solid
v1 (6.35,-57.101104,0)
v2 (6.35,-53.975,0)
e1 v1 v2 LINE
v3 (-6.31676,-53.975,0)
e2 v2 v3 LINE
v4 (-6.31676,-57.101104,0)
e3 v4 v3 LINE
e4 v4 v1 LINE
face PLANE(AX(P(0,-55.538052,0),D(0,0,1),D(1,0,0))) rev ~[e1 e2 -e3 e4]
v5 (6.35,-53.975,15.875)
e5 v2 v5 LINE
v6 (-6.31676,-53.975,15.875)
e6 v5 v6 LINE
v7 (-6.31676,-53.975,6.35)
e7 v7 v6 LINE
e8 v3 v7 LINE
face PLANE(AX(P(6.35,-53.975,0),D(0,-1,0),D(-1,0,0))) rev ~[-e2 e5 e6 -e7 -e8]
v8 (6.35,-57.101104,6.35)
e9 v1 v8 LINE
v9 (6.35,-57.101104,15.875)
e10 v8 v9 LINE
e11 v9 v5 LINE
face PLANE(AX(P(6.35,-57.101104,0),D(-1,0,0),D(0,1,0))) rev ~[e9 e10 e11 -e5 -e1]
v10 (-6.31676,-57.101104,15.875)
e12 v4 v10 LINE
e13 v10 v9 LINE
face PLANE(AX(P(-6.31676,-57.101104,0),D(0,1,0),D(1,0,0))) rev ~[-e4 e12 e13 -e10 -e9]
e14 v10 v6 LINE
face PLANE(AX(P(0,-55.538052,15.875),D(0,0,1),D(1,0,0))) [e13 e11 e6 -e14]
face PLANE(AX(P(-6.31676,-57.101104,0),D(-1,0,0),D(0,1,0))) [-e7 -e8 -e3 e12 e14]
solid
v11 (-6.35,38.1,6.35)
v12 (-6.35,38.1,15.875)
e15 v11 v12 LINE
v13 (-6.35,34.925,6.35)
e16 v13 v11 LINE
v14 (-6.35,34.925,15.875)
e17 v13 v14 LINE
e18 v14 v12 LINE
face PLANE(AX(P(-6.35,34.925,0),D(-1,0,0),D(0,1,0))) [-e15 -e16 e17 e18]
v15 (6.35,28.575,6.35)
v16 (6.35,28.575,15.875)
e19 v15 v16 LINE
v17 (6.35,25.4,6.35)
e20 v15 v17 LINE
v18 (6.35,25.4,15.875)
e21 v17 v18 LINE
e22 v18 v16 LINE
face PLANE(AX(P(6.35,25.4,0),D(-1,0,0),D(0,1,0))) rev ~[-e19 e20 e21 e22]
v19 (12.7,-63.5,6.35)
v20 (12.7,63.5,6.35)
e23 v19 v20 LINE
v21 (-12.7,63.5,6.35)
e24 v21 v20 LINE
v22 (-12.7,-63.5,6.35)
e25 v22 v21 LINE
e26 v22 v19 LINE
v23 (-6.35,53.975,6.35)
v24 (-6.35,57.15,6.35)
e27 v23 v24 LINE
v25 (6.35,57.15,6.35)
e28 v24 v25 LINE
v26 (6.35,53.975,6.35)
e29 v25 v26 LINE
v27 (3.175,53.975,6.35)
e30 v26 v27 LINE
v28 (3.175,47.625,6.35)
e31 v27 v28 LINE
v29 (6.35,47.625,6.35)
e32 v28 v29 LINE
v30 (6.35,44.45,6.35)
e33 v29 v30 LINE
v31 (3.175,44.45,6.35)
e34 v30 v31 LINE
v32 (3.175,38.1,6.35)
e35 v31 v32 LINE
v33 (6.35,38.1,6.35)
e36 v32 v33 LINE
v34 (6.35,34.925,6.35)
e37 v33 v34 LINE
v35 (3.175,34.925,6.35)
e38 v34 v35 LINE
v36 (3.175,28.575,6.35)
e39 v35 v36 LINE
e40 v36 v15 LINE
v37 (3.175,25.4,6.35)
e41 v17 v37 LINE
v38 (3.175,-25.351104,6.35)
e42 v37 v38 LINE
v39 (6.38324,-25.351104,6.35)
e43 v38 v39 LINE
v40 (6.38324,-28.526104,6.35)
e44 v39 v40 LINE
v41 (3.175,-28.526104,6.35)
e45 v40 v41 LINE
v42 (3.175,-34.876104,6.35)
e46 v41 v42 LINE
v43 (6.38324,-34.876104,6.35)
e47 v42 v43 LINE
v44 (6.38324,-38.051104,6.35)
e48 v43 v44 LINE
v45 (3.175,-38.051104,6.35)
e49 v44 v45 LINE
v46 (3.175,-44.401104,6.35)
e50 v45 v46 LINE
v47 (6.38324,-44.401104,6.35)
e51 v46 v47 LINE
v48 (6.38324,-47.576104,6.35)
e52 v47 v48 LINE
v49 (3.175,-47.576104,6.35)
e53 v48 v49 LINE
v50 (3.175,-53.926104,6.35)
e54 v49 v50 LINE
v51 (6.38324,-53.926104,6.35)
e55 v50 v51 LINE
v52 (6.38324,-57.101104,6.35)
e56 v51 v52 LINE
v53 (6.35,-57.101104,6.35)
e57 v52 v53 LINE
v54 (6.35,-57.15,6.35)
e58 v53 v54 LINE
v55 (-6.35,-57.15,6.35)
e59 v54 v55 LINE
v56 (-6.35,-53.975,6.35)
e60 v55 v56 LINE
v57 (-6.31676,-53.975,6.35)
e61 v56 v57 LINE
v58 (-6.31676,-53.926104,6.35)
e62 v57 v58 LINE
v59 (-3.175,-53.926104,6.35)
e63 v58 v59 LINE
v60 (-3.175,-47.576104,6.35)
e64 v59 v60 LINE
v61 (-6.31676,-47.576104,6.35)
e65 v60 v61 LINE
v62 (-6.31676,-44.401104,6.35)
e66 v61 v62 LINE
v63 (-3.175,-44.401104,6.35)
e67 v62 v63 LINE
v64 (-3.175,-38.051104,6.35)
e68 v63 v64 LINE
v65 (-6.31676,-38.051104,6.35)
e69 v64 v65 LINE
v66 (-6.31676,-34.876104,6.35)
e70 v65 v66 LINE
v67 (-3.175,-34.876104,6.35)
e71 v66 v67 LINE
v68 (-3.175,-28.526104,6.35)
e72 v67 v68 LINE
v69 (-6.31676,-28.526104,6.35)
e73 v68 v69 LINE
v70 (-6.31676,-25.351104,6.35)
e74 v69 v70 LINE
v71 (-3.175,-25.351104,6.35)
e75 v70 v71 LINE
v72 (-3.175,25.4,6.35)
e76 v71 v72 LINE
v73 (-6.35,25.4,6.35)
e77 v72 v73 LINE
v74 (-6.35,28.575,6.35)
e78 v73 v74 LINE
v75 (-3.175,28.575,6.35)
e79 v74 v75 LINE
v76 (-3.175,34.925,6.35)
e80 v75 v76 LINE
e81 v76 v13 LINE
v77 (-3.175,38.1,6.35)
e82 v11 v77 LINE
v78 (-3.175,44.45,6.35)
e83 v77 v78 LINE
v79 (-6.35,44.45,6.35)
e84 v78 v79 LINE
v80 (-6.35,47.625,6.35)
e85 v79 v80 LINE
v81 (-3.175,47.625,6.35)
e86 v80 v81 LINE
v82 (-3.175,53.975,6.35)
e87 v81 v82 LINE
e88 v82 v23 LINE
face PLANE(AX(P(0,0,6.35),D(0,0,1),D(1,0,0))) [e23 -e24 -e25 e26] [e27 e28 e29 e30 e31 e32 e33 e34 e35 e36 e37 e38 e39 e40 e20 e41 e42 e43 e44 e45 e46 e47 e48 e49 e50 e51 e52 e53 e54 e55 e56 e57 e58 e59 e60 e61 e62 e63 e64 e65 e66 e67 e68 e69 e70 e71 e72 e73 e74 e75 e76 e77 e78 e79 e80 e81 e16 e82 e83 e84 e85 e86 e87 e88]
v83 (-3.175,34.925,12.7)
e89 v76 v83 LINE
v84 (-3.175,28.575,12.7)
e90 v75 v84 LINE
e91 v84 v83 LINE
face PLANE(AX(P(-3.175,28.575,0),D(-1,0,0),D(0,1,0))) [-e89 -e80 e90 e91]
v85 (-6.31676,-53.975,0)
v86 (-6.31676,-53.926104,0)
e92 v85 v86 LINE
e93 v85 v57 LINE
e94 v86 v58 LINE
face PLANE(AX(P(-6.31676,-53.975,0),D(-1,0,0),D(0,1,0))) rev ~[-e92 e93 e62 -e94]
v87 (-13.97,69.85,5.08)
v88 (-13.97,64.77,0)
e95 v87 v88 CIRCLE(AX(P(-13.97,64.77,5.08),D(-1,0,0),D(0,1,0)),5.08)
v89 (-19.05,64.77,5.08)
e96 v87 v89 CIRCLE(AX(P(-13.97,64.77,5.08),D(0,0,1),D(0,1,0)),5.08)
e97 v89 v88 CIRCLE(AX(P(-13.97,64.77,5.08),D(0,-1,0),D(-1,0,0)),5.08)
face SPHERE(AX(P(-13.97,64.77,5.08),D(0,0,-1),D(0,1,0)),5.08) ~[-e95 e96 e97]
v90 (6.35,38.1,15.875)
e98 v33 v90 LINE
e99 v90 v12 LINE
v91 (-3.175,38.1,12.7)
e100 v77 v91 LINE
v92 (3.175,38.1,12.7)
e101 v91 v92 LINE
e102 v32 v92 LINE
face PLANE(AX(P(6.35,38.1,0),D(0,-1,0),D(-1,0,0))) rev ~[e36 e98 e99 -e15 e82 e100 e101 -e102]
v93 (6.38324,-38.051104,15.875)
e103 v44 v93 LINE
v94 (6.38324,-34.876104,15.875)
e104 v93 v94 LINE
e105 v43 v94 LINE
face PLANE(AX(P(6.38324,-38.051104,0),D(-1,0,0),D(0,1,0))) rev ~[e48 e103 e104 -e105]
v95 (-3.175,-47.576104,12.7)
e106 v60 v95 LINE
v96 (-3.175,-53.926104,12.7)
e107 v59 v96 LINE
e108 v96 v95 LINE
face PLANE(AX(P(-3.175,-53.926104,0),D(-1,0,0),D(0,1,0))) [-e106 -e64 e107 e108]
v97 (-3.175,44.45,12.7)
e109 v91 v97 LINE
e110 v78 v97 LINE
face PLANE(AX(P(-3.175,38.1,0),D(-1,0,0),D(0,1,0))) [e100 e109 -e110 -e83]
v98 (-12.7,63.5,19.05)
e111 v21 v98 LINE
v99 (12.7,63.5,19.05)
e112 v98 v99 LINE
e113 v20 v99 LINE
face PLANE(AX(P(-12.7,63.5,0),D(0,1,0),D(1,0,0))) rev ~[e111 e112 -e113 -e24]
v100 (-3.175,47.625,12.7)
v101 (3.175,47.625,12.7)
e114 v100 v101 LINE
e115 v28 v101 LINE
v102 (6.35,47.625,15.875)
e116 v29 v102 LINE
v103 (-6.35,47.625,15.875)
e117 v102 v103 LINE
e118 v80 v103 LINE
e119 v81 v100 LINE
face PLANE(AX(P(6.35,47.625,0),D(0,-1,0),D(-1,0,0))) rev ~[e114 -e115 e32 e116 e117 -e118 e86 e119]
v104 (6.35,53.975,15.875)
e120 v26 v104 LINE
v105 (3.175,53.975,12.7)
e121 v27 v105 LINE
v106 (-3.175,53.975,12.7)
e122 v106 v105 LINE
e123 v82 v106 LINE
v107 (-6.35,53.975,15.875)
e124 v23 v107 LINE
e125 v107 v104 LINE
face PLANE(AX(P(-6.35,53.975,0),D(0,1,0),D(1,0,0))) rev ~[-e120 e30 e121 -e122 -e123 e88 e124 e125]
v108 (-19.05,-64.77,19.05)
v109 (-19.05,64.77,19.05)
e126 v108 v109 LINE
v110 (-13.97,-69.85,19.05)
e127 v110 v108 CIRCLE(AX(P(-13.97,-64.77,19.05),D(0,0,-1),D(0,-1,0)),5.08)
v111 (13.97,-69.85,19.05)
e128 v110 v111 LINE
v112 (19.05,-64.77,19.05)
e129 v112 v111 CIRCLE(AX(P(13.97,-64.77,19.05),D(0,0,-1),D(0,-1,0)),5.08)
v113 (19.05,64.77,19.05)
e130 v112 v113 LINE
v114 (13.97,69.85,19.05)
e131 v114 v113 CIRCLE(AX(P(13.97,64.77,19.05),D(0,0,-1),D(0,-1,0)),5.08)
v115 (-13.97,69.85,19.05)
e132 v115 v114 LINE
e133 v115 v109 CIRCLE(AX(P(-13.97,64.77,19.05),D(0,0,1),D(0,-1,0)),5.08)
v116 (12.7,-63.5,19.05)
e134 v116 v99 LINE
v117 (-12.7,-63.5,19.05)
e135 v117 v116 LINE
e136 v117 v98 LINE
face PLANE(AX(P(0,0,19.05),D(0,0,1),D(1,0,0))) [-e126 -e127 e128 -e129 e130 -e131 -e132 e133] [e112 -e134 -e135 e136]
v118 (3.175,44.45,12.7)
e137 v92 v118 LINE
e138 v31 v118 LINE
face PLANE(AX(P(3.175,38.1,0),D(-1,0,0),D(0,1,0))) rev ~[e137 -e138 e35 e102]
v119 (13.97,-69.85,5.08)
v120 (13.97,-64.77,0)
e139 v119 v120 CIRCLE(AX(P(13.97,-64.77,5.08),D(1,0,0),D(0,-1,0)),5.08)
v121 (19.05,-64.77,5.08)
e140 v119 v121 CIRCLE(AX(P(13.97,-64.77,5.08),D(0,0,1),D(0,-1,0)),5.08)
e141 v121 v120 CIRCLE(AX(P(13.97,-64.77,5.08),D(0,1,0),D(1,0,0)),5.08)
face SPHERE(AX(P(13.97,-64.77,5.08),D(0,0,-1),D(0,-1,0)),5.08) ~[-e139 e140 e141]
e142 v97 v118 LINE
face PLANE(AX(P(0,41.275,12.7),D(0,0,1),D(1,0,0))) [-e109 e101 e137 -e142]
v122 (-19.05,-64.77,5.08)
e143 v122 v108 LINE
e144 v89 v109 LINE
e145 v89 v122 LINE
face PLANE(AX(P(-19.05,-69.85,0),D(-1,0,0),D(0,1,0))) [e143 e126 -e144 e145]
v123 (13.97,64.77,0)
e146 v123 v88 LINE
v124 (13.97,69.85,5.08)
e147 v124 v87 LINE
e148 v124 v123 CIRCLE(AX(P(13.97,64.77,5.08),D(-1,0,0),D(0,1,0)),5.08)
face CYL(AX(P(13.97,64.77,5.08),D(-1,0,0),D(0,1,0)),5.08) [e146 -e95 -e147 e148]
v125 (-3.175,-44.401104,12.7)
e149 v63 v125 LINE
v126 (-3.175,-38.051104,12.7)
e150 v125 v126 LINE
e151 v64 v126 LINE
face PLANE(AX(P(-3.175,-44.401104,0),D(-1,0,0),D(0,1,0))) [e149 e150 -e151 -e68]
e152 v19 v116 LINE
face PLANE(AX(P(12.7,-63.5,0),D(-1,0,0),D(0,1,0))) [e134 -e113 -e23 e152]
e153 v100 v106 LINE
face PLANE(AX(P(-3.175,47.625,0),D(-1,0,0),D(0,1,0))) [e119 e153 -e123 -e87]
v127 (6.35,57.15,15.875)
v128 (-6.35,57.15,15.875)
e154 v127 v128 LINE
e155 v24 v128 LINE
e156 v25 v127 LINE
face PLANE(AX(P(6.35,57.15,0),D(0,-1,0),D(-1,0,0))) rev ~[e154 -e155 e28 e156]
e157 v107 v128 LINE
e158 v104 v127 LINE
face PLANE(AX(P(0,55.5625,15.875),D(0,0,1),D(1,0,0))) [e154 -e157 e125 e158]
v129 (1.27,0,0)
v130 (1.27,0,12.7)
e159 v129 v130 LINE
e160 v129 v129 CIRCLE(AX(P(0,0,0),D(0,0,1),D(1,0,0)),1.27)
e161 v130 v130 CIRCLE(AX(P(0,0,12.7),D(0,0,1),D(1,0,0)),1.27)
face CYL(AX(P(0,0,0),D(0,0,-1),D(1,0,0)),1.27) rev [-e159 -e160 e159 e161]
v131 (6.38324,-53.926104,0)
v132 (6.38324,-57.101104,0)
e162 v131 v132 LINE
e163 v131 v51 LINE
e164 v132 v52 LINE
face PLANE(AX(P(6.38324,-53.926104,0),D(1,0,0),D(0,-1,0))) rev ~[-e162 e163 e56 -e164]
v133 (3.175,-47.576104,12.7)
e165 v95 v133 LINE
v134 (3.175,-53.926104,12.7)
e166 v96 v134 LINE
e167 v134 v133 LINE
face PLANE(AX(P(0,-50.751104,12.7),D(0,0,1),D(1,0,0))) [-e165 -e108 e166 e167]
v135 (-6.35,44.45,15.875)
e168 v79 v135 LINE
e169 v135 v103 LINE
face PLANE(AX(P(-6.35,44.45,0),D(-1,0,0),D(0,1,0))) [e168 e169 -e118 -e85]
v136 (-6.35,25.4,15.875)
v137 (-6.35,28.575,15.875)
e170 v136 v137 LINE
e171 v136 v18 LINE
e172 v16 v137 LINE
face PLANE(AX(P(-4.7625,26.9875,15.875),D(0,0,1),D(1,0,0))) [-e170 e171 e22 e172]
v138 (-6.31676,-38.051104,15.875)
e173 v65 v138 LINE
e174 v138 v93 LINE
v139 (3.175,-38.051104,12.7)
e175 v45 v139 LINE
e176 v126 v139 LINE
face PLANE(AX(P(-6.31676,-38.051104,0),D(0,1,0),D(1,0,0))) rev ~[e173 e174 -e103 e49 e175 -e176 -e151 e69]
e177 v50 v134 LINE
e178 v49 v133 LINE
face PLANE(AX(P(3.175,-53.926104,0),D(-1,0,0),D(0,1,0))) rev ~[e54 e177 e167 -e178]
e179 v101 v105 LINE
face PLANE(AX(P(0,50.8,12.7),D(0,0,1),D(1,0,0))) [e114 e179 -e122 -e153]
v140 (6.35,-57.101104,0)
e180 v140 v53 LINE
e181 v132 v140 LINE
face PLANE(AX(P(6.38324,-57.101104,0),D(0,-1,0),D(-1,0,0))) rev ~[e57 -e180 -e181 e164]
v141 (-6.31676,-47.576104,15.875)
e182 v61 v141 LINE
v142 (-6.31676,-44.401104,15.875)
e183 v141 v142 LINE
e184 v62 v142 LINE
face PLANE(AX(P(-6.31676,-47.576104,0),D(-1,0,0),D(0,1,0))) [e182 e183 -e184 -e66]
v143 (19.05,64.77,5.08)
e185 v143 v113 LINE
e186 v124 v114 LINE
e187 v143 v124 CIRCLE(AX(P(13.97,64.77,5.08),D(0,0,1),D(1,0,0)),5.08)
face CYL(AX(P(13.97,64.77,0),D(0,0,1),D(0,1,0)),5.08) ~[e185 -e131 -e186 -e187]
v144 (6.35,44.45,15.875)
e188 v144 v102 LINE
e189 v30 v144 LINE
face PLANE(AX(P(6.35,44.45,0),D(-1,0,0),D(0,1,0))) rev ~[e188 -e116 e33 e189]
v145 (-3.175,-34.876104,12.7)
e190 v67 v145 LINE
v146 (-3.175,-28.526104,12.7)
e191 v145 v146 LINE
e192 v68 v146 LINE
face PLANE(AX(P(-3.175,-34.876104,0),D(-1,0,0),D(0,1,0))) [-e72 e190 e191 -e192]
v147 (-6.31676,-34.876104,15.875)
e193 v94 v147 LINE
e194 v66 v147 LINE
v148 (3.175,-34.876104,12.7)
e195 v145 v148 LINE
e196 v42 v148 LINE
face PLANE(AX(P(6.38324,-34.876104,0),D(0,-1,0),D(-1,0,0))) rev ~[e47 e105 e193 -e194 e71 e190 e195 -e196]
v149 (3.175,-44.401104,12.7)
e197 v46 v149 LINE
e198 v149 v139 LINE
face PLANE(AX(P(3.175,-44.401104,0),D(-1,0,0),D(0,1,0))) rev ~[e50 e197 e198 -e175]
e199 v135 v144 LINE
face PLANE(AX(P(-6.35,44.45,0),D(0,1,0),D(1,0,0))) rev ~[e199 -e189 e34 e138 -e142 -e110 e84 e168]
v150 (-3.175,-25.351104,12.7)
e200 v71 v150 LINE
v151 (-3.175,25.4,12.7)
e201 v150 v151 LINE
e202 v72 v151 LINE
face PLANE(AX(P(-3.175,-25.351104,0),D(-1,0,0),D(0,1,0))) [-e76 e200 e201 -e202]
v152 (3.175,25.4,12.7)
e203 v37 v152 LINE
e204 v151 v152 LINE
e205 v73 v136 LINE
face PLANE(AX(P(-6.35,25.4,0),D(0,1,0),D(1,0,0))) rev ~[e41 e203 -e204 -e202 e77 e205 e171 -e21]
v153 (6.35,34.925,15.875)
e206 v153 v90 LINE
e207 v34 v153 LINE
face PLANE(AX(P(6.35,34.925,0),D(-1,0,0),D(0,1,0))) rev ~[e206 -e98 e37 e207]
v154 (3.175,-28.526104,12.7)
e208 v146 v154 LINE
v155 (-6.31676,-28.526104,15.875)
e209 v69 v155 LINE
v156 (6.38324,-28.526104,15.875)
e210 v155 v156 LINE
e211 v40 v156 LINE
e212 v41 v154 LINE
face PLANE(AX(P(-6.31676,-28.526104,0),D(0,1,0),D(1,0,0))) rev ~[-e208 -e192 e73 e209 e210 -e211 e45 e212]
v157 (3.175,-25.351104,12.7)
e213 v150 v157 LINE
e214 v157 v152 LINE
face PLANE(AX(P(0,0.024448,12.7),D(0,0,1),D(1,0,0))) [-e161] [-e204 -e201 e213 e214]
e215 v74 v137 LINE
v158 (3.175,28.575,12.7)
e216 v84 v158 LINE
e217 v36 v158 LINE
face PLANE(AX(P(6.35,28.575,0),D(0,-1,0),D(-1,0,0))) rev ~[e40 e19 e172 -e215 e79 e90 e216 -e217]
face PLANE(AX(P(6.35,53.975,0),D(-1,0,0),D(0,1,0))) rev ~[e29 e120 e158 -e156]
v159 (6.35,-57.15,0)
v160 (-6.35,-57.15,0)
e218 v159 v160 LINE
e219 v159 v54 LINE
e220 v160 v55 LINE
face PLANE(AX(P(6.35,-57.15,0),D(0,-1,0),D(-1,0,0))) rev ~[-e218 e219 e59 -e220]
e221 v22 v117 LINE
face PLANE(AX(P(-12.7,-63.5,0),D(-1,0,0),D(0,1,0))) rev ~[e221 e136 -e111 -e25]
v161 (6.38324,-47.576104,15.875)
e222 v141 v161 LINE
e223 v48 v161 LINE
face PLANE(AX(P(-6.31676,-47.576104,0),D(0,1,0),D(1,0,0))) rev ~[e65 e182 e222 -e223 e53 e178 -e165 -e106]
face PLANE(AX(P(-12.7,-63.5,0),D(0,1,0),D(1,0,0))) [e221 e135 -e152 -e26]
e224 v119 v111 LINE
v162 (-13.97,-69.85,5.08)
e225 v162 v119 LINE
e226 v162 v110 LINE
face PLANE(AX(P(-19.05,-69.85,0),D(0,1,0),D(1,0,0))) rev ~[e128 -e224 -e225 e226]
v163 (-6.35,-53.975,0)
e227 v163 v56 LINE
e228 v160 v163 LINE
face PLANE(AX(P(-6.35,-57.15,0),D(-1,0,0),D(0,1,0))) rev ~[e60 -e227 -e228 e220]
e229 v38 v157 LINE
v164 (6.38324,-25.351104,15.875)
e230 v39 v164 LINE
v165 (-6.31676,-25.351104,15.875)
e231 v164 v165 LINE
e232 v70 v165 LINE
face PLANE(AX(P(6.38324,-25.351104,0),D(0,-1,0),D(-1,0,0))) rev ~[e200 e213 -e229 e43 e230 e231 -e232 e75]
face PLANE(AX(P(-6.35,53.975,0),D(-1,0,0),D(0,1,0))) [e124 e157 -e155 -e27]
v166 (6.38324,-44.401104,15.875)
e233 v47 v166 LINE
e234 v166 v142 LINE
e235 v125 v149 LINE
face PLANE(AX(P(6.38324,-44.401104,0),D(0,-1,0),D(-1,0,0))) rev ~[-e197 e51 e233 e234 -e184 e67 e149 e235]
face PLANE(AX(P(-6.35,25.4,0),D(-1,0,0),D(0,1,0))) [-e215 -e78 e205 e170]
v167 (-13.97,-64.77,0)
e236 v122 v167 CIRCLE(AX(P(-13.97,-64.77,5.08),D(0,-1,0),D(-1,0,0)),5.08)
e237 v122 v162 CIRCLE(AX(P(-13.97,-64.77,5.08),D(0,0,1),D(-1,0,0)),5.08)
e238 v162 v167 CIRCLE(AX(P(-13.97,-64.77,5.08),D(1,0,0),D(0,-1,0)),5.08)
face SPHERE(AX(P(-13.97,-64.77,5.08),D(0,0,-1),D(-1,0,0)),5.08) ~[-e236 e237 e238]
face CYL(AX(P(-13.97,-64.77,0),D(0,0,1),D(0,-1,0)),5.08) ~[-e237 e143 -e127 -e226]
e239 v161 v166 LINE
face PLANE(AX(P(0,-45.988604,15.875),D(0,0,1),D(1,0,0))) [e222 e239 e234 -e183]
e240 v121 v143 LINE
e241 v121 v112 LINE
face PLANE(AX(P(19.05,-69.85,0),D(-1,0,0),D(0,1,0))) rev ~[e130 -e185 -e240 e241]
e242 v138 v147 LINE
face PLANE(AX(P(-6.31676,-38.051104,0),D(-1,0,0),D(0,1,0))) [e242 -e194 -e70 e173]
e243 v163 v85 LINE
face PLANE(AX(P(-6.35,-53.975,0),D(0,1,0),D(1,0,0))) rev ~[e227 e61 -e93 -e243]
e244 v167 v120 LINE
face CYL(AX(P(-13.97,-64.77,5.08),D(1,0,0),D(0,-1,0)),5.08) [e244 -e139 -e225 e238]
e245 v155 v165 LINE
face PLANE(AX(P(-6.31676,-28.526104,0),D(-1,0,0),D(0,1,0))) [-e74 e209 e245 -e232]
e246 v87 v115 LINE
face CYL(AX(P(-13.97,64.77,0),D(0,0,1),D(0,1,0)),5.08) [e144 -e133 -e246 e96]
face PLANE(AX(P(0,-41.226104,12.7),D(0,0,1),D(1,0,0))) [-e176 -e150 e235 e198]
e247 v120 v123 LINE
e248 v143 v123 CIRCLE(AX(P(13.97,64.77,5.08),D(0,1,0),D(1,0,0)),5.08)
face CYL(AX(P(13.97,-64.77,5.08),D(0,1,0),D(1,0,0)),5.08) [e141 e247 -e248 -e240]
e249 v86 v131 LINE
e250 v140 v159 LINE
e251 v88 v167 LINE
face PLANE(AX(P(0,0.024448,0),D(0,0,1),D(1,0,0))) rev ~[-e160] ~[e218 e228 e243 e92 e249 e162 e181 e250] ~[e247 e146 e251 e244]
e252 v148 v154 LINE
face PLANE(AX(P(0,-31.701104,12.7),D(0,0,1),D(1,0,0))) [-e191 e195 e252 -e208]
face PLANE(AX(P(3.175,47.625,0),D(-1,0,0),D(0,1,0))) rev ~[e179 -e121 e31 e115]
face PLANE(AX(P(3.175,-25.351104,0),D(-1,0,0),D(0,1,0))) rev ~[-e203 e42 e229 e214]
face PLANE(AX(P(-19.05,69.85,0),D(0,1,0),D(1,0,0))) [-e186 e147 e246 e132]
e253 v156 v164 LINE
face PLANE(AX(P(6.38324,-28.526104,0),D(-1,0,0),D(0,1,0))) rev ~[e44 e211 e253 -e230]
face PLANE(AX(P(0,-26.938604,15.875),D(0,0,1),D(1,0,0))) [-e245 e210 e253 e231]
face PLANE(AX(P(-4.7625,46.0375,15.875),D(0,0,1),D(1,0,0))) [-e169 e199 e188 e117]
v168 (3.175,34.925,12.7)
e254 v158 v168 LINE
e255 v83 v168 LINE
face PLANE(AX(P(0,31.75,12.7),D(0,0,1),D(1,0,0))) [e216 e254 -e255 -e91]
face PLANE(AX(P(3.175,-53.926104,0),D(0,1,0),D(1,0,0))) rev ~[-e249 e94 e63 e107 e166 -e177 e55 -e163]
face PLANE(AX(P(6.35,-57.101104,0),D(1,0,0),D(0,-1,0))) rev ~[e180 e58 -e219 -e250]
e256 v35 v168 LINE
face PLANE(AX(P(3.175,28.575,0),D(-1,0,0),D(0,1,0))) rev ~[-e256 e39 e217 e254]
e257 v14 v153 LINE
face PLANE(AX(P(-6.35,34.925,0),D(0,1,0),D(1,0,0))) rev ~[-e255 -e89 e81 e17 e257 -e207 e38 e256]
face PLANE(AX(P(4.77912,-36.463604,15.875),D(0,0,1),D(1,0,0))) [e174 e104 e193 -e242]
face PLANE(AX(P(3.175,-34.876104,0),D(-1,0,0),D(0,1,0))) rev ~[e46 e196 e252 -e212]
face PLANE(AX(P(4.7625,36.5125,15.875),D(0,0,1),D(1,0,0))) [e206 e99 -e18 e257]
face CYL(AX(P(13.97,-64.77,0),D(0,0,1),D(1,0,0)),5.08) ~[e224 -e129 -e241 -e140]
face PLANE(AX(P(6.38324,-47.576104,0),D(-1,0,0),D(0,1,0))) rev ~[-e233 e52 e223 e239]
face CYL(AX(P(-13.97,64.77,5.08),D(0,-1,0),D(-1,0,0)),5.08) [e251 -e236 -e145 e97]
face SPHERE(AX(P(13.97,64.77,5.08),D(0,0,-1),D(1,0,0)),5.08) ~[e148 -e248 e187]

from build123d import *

# Parameters (mm, degrees)
F0_W     = 38.1
F0_H     = 139.7
F0_W_2   = 25.4
F0_H_2   = 127
F1_DEPTH = 19.05
F2_DEPTH = 6.35
F0_W_3   = 6.35
F0_H_3   = 50.7511039019
F0_R     = 1.27
F0_H_4   = 6.35
F3_DEPTH = 12.7
F0_H_5   = 3.175
F0_W_4   = 3.175
F0_W_5   = 3.141760166
F0_W_6   = 3.208239834
F0_H_6   = 3.1261039019
F4_DEPTH = 15.875
F5_R     = 5.08
F6_R     = 5.08
F7_R     = 5.08
F8_R     = 5.08
F9_R     = 5.08


with BuildPart() as f1:
    # F0 (on Top) → F1 (new body)
    with BuildSketch(Plane.XY):
        Rectangle(F0_W, F0_H)
        Rectangle(F0_W_2, F0_H_2, mode=Mode.SUBTRACT)
    extrude(amount=F1_DEPTH)

    # F0 (on Top) → F2 (join)
    with BuildSketch(Plane.XY):
        Rectangle(F0_W_2, F0_H_2)
        Polygon((-3.175, 57.15), (3.175, 57.15), (6.35, 57.15), (6.35, 53.975), (3.175, 53.975), (3.175, 47.625), (6.35, 47.625), (6.35, 44.45), (3.175, 44.45), (3.175, 38.1), (6.35, 38.1), (6.35, 34.925), (3.175, 34.925), (3.175, 28.575), (6.35, 28.575), (6.35, 25.4), (3.175, 25.4), (3.175, -25.3511039019), (6.383239834, -25.3511039019), (6.383239834, -28.5261039019), (3.175, -28.5261039019), (3.175, -34.8761039019), (6.383239834, -34.8761039019), (6.383239834, -38.0511039019), (3.175, -38.0511039019), (3.175, -44.4011039019), (6.383239834, -44.4011039019), (6.383239834, -47.5761039019), (3.175, -47.5761039019), (3.175, -53.9261039019), (6.383239834, -53.9261039019), (6.383239834, -57.1011039019), (6.35, -57.1011039019), (6.35, -57.15), (3.175, -57.15), (-3.175, -57.15), (-6.35, -57.15), (-6.35, -53.975), (-6.316760166, -53.975), (-6.316760166, -53.9261039019), (-3.175, -53.9261039019), (-3.175, -47.5761039019), (-6.316760166, -47.5761039019), (-6.316760166, -44.4011039019), (-3.175, -44.4011039019), (-3.175, -38.0511039019), (-6.316760166, -38.0511039019), (-6.316760166, -34.8761039019), (-3.175, -34.8761039019), (-3.175, -28.5261039019), (-6.316760166, -28.5261039019), (-6.316760166, -25.3511039019), (-3.175, -25.3511039019), (-3.175, 25.4), (-6.35, 25.4), (-6.35, 28.575), (-3.175, 28.575), (-3.175, 34.925), (-6.35, 34.925), (-6.35, 38.1), (-3.175, 38.1), (-3.175, 44.45), (-6.35, 44.45), (-6.35, 47.625), (-3.175, 47.625), (-3.175, 53.975), (-6.35, 53.975), (-6.35, 57.15), align=None, mode=Mode.SUBTRACT)
    extrude(amount=F2_DEPTH)

    # F0 (on Top) → F3 (join)
    with BuildSketch(Plane.XY):
        with Locations((0, 0.0244480491)):
            Rectangle(F0_W_3, F0_H_3)
        Circle(F0_R, mode=Mode.SUBTRACT)
        with Locations((0, 31.75)):
            Rectangle(F0_W_3, F0_H_4)
        with Locations((0, 41.275)):
            Rectangle(F0_W_3, F0_H_4)
        with Locations((0, 50.8)):
            Rectangle(F0_W_3, F0_H_4)
        with Locations((0, -31.7011039019)):
            Rectangle(F0_W_3, F0_H_4)
        with Locations((0, -41.2261039019)):
            Rectangle(F0_W_3, F0_H_4)
        with Locations((0, -50.7511039019)):
            Rectangle(F0_W_3, F0_H_4)
    extrude(amount=F3_DEPTH)

    # F0 (on Top) → F4 (join)
    with BuildSketch(Plane.XY):
        with Locations((0, 55.5625)):
            Rectangle(F0_W_3, F0_H_5)
        with Locations((4.7625, 55.5625)):
            Rectangle(F0_W_4, F0_H_5)
        with Locations((-4.7625, 55.5625)):
            Rectangle(F0_W_4, F0_H_5)
        with Locations((-4.7625, 46.0375)):
            Rectangle(F0_W_4, F0_H_5)
        with Locations((0, 46.0375)):
            Rectangle(F0_W_3, F0_H_5)
        with Locations((4.7625, 46.0375)):
            Rectangle(F0_W_4, F0_H_5)
        with Locations((4.7625, 36.5125)):
            Rectangle(F0_W_4, F0_H_5)
        with Locations((0, 36.5125)):
            Rectangle(F0_W_3, F0_H_5)
        with Locations((-4.7625, 36.5125)):
            Rectangle(F0_W_4, F0_H_5)
        with Locations((-4.7625, 26.9875)):
            Rectangle(F0_W_4, F0_H_5)
        with Locations((0, 26.9875)):
            Rectangle(F0_W_3, F0_H_5)
        with Locations((4.7625, 26.9875)):
            Rectangle(F0_W_4, F0_H_5)
        with Locations((0, -26.9386039019)):
            Rectangle(F0_W_3, F0_H_5)
        with Locations((-4.745880083, -26.9386039019)):
            Rectangle(F0_W_5, F0_H_5)
        with Locations((4.779119917, -26.9386039019)):
            Rectangle(F0_W_6, F0_H_5)
        with Locations((4.779119917, -36.4636039019)):
            Rectangle(F0_W_6, F0_H_5)
        with Locations((0, -36.4636039019)):
            Rectangle(F0_W_3, F0_H_5)
        with Locations((-4.745880083, -36.4636039019)):
            Rectangle(F0_W_5, F0_H_5)
        with Locations((0, -45.9886039019)):
            Rectangle(F0_W_3, F0_H_5)
        with Locations((0, -55.5380519509)):
            Rectangle(F0_W_3, F0_H_6)
        with Locations((4.779119917, -45.9886039019)):
            Rectangle(F0_W_6, F0_H_5)
        with Locations((4.7625, -55.5380519509)):
            Rectangle(F0_W_4, F0_H_6)
        with Locations((-4.745880083, -55.5380519509)):
            Rectangle(F0_W_5, F0_H_6)
        with Locations((-4.745880083, -45.9886039019)):
            Rectangle(F0_W_5, F0_H_5)
    extrude(amount=F4_DEPTH)

    # F5
    f5_edges = [f1.edges().sort_by_distance(p)[0] for p in [
        (19.05, 69.85, 9.525),
    ]]
    fillet(f5_edges, radius=F5_R)

    # F6
    f6_edges = [f1.edges().sort_by_distance(p)[0] for p in [
        (-19.05, 69.85, 9.525),
    ]]
    fillet(f6_edges, radius=F6_R)

    # F7
    f7_edges = [f1.edges().sort_by_distance(p)[0] for p in [
        (19.05, -69.85, 9.525),
    ]]
    fillet(f7_edges, radius=F7_R)

    # F8
    f8_edges = [f1.edges().sort_by_distance(p)[0] for p in [
        (-19.05, -69.85, 9.525),
    ]]
    fillet(f8_edges, radius=F8_R)

    # F9
    f9_edges = [f1.edges().sort_by_distance(p)[0] for p in [
        (0, -69.85, 0),
    ]]
    fillet(f9_edges, radius=F9_R)


solid = f1.part
